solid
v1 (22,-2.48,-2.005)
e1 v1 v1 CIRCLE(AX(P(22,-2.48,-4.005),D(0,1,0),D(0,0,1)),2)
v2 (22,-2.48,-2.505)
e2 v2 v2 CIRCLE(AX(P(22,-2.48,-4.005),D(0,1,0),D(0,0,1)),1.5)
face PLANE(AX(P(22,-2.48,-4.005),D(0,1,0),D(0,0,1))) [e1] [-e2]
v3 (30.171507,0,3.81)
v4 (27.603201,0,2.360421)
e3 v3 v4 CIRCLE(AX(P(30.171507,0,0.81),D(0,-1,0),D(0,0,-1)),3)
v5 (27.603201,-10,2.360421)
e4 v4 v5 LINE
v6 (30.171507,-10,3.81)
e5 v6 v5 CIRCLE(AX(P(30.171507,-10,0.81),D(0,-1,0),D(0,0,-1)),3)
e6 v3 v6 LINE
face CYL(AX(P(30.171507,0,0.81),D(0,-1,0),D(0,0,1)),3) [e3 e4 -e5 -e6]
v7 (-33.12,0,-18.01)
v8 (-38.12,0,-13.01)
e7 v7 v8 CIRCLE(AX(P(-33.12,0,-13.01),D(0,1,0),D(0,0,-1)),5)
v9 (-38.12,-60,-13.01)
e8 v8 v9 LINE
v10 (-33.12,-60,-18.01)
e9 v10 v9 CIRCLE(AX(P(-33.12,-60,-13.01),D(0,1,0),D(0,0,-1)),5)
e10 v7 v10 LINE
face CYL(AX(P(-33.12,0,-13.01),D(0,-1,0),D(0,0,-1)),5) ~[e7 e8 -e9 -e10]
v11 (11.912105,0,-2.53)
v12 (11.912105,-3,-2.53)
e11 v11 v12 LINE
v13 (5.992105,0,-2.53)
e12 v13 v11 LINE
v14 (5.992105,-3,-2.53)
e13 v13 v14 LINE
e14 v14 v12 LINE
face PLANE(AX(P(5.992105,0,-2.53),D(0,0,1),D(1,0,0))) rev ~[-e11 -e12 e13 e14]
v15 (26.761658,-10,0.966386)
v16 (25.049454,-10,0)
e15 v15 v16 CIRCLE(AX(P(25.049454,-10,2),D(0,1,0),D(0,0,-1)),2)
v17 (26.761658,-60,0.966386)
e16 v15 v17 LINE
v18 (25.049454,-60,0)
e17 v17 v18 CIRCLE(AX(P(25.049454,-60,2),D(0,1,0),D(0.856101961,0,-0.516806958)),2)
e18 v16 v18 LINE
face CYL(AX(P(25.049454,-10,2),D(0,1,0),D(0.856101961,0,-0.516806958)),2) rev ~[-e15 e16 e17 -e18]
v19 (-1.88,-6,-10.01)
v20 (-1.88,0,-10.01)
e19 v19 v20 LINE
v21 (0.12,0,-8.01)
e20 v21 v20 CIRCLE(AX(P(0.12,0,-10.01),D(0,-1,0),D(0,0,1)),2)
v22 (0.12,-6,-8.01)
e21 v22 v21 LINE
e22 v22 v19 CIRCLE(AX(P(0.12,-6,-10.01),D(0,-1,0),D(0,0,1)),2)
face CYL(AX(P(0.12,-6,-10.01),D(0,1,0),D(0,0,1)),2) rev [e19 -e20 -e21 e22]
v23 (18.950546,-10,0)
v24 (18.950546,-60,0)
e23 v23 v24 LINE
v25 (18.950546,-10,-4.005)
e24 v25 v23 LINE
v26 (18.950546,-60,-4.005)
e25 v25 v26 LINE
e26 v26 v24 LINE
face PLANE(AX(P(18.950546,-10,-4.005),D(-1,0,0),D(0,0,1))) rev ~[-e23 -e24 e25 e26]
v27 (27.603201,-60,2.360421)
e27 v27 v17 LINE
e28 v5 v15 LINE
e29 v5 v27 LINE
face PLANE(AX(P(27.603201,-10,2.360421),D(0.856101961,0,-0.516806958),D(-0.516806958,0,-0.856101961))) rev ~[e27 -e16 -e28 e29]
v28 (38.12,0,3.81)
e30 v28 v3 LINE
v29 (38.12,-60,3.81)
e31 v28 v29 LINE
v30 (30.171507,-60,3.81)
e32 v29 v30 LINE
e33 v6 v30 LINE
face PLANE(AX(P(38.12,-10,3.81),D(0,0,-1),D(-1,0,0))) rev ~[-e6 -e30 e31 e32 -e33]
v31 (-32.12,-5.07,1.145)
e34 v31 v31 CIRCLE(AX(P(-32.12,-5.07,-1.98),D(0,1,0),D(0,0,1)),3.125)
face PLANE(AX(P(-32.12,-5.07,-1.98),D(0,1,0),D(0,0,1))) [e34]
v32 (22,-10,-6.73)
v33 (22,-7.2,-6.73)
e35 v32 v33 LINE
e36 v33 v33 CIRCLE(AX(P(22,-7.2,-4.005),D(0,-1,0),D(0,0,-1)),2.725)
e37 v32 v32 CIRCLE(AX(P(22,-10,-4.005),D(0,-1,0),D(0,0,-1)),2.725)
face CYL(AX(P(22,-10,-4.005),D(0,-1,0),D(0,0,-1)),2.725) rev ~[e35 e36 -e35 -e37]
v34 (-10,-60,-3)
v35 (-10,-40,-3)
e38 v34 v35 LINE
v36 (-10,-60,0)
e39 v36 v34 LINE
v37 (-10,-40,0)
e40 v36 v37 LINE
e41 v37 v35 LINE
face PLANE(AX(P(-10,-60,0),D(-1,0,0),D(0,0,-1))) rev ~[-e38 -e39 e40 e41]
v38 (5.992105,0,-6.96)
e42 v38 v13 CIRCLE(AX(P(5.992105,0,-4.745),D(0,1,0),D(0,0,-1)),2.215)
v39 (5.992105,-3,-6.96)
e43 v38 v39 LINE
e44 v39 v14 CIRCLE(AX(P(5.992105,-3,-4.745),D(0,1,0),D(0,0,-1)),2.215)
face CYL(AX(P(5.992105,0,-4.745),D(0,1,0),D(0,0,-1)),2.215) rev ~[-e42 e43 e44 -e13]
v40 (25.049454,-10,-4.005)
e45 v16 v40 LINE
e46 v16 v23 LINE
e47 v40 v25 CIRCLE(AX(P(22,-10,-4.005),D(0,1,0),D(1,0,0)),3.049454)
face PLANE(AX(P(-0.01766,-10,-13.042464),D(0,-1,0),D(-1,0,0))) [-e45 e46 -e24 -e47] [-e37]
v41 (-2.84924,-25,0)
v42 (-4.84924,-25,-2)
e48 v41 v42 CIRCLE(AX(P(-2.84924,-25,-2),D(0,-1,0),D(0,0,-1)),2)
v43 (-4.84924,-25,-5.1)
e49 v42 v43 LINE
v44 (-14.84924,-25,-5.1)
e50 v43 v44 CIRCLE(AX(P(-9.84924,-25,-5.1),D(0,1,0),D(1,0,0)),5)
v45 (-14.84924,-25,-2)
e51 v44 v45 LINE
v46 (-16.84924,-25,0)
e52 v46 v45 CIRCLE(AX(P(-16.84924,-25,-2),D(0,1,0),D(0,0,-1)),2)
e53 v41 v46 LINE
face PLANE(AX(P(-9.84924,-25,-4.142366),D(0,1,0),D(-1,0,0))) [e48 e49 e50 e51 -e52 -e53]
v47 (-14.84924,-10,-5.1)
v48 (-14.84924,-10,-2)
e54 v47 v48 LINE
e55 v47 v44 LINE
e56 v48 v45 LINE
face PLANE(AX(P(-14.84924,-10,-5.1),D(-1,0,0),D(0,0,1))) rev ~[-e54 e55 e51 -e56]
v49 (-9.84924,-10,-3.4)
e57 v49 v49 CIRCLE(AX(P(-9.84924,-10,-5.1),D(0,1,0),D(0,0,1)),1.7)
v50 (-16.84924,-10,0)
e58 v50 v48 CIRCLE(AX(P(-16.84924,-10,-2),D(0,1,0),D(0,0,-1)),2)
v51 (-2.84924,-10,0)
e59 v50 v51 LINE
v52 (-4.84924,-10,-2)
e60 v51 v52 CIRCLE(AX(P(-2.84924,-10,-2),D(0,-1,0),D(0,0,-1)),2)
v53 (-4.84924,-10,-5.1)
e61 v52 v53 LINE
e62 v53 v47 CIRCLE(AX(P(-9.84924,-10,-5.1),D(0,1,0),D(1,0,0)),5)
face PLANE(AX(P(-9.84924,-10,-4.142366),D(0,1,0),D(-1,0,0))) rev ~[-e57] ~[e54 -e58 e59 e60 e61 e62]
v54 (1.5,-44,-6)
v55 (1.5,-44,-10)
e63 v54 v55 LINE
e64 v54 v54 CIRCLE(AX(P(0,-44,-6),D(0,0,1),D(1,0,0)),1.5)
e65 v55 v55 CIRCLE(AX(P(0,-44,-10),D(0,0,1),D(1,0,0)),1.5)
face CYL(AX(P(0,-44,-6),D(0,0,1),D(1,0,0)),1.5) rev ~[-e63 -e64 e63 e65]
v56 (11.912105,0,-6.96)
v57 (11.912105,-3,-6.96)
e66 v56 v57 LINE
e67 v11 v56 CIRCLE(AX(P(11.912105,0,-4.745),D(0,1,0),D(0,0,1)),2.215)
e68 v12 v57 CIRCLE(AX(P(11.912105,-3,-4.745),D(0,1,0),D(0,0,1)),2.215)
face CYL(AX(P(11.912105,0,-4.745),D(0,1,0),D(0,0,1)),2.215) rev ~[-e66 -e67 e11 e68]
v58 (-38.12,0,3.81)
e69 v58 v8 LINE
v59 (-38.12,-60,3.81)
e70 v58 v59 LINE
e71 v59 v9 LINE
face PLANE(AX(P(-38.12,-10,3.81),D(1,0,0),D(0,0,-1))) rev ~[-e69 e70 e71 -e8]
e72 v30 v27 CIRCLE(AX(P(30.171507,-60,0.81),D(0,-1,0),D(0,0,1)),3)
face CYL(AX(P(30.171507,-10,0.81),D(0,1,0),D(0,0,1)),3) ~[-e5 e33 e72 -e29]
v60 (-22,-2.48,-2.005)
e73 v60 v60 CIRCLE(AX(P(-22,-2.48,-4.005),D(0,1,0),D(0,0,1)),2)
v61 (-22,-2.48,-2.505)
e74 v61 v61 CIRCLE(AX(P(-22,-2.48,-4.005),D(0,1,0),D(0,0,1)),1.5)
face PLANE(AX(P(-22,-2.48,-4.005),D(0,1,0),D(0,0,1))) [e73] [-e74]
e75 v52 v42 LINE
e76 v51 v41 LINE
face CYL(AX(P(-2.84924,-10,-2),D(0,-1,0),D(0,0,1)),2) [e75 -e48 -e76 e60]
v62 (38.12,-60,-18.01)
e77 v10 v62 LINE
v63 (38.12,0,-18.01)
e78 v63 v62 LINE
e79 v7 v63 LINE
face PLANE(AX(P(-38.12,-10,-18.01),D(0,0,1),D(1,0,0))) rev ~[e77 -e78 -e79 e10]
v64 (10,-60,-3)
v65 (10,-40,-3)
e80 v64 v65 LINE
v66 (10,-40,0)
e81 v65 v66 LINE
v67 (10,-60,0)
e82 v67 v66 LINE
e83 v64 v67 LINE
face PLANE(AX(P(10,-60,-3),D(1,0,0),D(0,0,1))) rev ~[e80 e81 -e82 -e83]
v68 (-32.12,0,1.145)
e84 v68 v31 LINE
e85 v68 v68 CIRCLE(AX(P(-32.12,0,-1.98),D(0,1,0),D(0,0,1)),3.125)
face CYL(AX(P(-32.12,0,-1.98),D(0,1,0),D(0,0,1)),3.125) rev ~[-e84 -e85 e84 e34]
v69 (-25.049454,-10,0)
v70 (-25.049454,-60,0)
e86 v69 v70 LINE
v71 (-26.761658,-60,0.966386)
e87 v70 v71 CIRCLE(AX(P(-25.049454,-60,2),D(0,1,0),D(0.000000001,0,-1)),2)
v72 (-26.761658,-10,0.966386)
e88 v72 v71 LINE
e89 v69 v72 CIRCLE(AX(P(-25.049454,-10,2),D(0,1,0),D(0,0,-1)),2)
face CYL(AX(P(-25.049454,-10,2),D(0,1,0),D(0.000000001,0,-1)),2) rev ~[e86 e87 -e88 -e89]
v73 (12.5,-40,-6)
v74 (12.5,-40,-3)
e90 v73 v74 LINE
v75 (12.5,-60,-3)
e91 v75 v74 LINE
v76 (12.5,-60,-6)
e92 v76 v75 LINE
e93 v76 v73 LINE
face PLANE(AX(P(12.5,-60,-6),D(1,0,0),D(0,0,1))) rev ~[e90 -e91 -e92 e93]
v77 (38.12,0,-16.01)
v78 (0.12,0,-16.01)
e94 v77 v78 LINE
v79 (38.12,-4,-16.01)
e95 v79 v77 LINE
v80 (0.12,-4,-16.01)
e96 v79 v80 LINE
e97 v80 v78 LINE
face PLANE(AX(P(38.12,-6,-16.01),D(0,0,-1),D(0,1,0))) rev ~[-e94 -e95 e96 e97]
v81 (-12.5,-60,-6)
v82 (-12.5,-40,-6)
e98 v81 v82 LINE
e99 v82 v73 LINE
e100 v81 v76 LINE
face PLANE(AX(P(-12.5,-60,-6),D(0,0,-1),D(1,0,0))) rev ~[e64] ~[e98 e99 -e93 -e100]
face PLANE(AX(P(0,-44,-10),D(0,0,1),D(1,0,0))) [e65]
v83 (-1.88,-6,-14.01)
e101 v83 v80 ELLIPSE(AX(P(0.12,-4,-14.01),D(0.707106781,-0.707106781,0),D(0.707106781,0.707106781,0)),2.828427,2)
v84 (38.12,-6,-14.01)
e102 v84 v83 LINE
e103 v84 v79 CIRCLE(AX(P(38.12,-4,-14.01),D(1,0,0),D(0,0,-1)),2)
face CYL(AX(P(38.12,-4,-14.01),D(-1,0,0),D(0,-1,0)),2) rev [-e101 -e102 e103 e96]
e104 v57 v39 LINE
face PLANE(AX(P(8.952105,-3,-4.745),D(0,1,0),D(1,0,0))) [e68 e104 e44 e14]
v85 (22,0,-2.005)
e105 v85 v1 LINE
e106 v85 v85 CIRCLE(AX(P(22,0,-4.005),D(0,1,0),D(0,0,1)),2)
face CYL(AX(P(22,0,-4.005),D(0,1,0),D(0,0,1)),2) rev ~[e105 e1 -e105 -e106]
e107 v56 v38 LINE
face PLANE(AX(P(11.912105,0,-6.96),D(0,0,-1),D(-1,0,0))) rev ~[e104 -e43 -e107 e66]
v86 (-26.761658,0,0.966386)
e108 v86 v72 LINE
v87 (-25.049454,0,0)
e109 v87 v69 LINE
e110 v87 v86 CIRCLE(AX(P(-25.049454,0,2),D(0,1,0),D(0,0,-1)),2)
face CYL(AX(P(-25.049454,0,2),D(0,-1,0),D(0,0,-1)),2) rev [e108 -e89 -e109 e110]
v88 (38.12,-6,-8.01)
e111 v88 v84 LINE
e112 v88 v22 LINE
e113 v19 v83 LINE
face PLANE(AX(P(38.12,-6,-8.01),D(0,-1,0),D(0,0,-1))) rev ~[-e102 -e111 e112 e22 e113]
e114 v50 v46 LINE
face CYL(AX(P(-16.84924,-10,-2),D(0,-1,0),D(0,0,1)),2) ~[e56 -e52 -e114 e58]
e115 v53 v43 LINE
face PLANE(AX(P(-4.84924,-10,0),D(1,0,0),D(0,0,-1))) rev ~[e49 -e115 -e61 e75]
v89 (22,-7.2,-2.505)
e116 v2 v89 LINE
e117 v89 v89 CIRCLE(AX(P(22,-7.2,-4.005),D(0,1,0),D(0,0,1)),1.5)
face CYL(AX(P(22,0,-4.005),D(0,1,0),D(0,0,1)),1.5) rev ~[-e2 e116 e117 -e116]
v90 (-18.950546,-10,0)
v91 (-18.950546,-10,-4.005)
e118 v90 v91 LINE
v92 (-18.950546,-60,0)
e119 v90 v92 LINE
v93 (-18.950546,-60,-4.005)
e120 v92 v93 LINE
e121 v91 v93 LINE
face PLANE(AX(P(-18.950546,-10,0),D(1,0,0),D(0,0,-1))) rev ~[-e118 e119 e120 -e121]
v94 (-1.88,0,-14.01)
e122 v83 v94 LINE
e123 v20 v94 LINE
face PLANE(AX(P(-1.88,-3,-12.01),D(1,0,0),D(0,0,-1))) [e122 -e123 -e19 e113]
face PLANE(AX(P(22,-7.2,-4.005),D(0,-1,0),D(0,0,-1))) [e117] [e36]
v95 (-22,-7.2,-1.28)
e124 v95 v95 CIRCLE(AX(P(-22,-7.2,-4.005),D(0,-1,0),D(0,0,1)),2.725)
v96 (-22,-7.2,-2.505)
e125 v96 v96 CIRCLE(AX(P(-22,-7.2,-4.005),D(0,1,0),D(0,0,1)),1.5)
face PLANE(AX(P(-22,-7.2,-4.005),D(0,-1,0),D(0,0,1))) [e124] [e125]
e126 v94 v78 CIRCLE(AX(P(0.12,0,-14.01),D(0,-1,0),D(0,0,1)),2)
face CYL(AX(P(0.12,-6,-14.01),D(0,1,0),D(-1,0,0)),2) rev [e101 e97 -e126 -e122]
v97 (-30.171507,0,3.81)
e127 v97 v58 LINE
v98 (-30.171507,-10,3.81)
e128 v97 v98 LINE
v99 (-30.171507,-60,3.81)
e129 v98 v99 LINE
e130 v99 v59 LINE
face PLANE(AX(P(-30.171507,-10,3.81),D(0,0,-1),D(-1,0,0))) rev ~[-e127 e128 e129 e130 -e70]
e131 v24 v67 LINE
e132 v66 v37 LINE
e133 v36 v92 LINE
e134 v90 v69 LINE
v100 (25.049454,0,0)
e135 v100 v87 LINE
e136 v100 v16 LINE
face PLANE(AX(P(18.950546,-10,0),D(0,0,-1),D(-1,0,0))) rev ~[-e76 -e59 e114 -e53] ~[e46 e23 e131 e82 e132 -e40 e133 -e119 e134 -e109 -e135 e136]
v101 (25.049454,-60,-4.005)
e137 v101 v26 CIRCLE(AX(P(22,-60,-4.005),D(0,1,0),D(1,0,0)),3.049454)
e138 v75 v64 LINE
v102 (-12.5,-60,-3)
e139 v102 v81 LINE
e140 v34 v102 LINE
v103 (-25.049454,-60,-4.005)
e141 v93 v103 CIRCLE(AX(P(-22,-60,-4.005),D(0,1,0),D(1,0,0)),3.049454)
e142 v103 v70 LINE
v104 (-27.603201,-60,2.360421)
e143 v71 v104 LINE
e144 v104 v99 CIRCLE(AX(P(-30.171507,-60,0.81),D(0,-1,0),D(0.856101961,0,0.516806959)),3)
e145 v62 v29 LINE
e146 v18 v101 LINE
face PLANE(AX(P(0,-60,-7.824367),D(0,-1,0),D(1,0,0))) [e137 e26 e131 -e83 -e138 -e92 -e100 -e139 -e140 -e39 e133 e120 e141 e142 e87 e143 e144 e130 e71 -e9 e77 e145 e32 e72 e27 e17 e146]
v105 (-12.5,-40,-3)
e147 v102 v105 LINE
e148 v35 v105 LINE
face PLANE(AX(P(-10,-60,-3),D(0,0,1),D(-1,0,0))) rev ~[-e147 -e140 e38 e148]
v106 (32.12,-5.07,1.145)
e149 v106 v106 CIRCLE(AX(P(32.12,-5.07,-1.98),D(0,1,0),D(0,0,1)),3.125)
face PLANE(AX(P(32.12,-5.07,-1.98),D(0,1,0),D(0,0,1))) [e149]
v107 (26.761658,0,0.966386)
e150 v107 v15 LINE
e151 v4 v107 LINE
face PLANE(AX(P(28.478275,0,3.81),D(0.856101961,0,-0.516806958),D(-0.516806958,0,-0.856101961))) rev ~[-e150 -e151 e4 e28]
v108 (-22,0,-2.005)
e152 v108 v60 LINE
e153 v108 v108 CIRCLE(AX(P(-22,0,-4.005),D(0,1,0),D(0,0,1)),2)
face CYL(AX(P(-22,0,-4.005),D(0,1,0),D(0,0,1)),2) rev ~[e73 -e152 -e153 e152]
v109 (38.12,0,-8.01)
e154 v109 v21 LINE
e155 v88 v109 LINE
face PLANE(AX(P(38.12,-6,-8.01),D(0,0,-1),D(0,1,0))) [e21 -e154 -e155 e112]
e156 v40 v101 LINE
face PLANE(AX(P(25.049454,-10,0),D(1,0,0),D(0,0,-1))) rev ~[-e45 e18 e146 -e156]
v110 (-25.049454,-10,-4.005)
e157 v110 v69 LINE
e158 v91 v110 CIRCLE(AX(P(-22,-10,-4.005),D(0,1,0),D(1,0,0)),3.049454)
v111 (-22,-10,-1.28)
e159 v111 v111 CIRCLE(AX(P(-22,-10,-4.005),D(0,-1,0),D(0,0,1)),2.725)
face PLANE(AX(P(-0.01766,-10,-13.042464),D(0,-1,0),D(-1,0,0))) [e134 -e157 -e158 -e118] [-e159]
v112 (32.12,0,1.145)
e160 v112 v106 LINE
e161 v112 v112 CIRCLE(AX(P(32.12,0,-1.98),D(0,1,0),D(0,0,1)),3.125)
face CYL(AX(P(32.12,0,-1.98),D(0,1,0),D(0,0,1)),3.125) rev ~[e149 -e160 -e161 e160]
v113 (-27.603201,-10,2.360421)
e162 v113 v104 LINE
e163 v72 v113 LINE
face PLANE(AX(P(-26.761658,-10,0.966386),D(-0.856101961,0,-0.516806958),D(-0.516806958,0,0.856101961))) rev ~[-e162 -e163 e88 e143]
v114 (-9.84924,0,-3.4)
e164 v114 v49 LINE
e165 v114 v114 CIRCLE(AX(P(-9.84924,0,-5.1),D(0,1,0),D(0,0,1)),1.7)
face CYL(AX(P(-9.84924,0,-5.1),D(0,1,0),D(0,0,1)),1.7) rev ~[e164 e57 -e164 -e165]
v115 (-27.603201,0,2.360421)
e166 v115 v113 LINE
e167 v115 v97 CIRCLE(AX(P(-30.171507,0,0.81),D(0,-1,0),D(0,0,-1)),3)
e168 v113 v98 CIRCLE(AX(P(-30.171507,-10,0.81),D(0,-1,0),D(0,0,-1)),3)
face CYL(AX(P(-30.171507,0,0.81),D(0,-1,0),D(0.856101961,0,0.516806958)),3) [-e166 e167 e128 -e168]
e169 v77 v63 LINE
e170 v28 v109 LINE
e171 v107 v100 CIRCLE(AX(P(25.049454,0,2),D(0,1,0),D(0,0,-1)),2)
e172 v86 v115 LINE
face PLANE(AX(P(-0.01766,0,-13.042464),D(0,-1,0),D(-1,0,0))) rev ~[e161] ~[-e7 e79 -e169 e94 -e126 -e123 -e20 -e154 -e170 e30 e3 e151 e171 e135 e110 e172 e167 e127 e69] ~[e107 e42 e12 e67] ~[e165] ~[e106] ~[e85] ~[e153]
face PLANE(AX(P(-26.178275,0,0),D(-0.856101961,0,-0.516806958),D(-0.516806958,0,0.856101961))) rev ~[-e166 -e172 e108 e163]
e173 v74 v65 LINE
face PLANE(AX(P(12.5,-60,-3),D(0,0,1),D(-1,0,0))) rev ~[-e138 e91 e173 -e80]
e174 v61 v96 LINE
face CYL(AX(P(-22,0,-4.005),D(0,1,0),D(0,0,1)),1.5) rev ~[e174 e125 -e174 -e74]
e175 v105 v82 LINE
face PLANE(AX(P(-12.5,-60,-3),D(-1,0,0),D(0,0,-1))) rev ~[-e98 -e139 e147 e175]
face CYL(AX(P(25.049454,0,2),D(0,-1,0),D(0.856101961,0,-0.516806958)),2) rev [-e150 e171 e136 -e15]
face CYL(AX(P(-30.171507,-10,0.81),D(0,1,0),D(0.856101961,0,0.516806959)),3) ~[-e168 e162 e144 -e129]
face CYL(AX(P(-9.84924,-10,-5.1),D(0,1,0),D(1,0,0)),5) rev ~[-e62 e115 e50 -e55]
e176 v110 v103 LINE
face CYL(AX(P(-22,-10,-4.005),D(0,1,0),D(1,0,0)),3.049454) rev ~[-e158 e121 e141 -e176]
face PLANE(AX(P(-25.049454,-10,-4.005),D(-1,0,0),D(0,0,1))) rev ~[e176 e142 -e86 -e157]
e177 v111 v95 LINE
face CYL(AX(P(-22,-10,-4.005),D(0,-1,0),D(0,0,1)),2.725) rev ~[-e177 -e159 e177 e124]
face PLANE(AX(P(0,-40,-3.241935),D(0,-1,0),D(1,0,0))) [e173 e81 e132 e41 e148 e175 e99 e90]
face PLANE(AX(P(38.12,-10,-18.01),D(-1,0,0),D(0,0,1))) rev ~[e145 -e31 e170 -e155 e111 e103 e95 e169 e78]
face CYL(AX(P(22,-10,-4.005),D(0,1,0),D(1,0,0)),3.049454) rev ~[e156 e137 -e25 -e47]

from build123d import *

# Parameters (mm, degrees)
SKETCH1_R           = 2
SKETCH1_R_2         = 3.125
SKETCH1_R_3         = 1.7
BOSS_EXTRUDE1_DEPTH = 10
FILLET2_R           = 3
FILLET1_R           = 2
SKETCH1_4_R         = 3.125
CUT_EXTRUDE3_DEPTH  = 5.07
SKETCH1_7_R         = 1.7
CUT_EXTRUDE6_DEPTH  = 10
CUT_EXTRUDE5_DEPTH  = 3
SKETCH1_5_R         = 2
CUT_EXTRUDE4_DEPTH  = 2.48
SKETCH4_R           = 1.5
CUT_EXTRUDE7_DEPTH  = 10
SKETCH5_R           = 2.725
CUT_EXTRUDE8_DEPTH  = 2.8
BOSS_EXTRUDE2_DEPTH = 10
BOSS_EXTRUDE3_DEPTH = 50
FILLET13_R          = 5
CUT_EXTRUDE14_DEPTH = 15
SKETCH10_W          = 8
SKETCH10_H          = 6
CUT_EXTRUDE12_DEPTH = 40
FILLET12_R          = 2
FILLET14_R          = 2
CUT_EXTRUDE17_DEPTH = 20
SKETCH19_R          = 1.5
CUT_EXTRUDE18_DEPTH = 4


with BuildPart() as part:
    # Sketch1 → Boss-Extrude1 (new body)
    with BuildSketch(Plane(origin=(0, 0, 0), x_dir=(1, 0, 0), z_dir=(0, 1, 0))):
        with BuildLine():
            ThreePointArc((-11.409245094, 8.977987014), (-9.849239736, 9.28), (-8.289234378, 8.977987014))
            ThreePointArc((-8.289234378, 8.977987014), (-5.835653376, 8.254222737), (-3.289234378, 8.01))
            Line((-3.289234378, 8.01), (38.12, 8.01))
            Line((38.12, 8.01), (38.12, -3.81))
            Line((38.12, -3.81), (28.478275237, -3.81))
            Line((28.478275237, -3.81), (26.178275237, 0))
            Line((26.178275237, 0), (-26.178275237, 0))
            Line((-26.178275237, 0), (-28.478275237, -3.81))
            Line((-28.478275237, -3.81), (-38.12, -3.81))
            Line((-38.12, -3.81), (-38.12, 8.01))
            Line((-38.12, 8.01), (-16.409245094, 8.01))
            ThreePointArc((-16.409245094, 8.01), (-13.862826096, 8.254222737), (-11.409245094, 8.977987014))
        make_face()
        with Locations((22, 4.005)):
            Circle(SKETCH1_R, mode=Mode.SUBTRACT)
        with Locations((-22, 4.005)):
            Circle(SKETCH1_R, mode=Mode.SUBTRACT)
        with Locations((-32.12, 1.98)):
            Circle(SKETCH1_R_2, mode=Mode.SUBTRACT)
        with Locations((32.12, 1.98)):
            Circle(SKETCH1_R_2, mode=Mode.SUBTRACT)
        with Locations((-9.849239736, 5.1)):
            Circle(SKETCH1_R_3, mode=Mode.SUBTRACT)
        with BuildLine():
            ThreePointArc((11.912105026, 2.53), (14.127105026, 4.745), (11.912105026, 6.96))
            Line((11.912105026, 6.96), (5.992105026, 6.96))
            ThreePointArc((5.992105026, 6.96), (3.777105026, 4.745), (5.992105026, 2.53))
            Line((5.992105026, 2.53), (11.912105026, 2.53))
        make_face(mode=Mode.SUBTRACT)
        with Locations((-22, 4.005)):
            Circle(SKETCH1_R)
        with Locations((-9.849239736, 5.1)):
            Circle(SKETCH1_R_3)
        with Locations((-32.12, 1.98)):
            Circle(SKETCH1_R_2)
        with BuildLine():
            Line((5.992105026, 2.53), (11.912105026, 2.53))
            ThreePointArc((11.912105026, 2.53), (14.127105026, 4.745), (11.912105026, 6.96))
            Line((11.912105026, 6.96), (5.992105026, 6.96))
            ThreePointArc((5.992105026, 6.96), (3.777105026, 4.745), (5.992105026, 2.53))
        make_face()
        with Locations((22, 4.005)):
            Circle(SKETCH1_R)
        with Locations((32.12, 1.98)):
            Circle(SKETCH1_R_2)
    extrude(amount=-BOSS_EXTRUDE1_DEPTH)

    # Fillet2
    fillet2_edges = [part.edges().sort_by_distance(p)[0] for p in [
        (28.478275237, -5, 3.81),
        (-28.478275237, -5, 3.81),
    ]]
    fillet(fillet2_edges, radius=FILLET2_R)

    # Fillet1
    fillet1_edges = [part.edges().sort_by_distance(p)[0] for p in [
        (26.178275237, -5, 0),
        (-26.178275237, -5, 0),
    ]]
    fillet(fillet1_edges, radius=FILLET1_R)

    # Sketch1_4 → Cut-Extrude3 (cut)
    with BuildSketch(Plane(origin=(0, 0, 0), x_dir=(1, 0, 0), z_dir=(0, 1, 0))):
        with Locations(Location((32.12, 1.98, 0), (0, 0, 270))):
            Circle(SKETCH1_4_R)
        with Locations(Location((-32.12, 1.98, 0), (0, 0, 270))):
            Circle(SKETCH1_4_R)
    extrude(amount=-CUT_EXTRUDE3_DEPTH, mode=Mode.SUBTRACT)

    # Sketch1_7 → Cut-Extrude6 (cut)
    with BuildSketch(Plane(origin=(0, 0, 0), x_dir=(1, 0, 0), z_dir=(0, 1, 0))):
        with Locations(Location((-9.849239736, 5.1, 0), (0, 0, 270))):
            Circle(SKETCH1_7_R)
    extrude(amount=-CUT_EXTRUDE6_DEPTH, mode=Mode.SUBTRACT)

    # Sketch1_6 → Cut-Extrude5 (cut)
    with BuildSketch(Plane(origin=(0, 0, 0), x_dir=(1, 0, 0), z_dir=(0, 1, 0))):
        with BuildLine():
            Line((5.992105026, 2.53), (11.912105026, 2.53))
            ThreePointArc((11.912105026, 2.53), (14.127105026, 4.745), (11.912105026, 6.96))
            Line((11.912105026, 6.96), (5.992105026, 6.96))
            ThreePointArc((5.992105026, 6.96), (3.777105026, 4.745), (5.992105026, 2.53))
        make_face()
    extrude(amount=-CUT_EXTRUDE5_DEPTH, mode=Mode.SUBTRACT)

    # Sketch1_5 → Cut-Extrude4 (cut)
    with BuildSketch(Plane(origin=(0, 0, 0), x_dir=(1, 0, 0), z_dir=(0, 1, 0))):
        with Locations(Location((-22, 4.005, 0), (0, 0, 270))):
            Circle(SKETCH1_5_R)
        with Locations(Location((22, 4.005, 0), (0, 0, 270))):
            Circle(SKETCH1_5_R)
    extrude(amount=-CUT_EXTRUDE4_DEPTH, mode=Mode.SUBTRACT)

    # Sketch4 → Cut-Extrude7 (cut)
    with BuildSketch(Plane(origin=(0, 0, 0), x_dir=(1, 0, 0), z_dir=(0, 1, 0))):
        with Locations(Location((-22, 4.005, 0), (0, 0, 270))):
            Circle(SKETCH4_R)
        with Locations(Location((22, 4.005, 0), (0, 0, 270))):
            Circle(SKETCH4_R)
    extrude(amount=-CUT_EXTRUDE7_DEPTH, mode=Mode.SUBTRACT)

    # Sketch5 → Cut-Extrude8 (cut)
    with BuildSketch(Plane.XZ.offset(10)):
        with Locations(Location((22, -4.005, 0), (0, 0, 270))):
            Circle(SKETCH5_R)
        with Locations(Location((-22, -4.005, 0), (0, 0, 90))):
            Circle(SKETCH5_R)
    extrude(amount=-CUT_EXTRUDE8_DEPTH, mode=Mode.SUBTRACT)

    # Sketch6 → Boss-Extrude2 (add)
    with BuildSketch(Plane(origin=(0, 0, 0), x_dir=(1, 0, 0), z_dir=(0, 1, 0))):
        with BuildLine():
            Line((-38.12, 8.01), (-38.12, 18.01))
            Line((-38.12, 18.01), (38.12, 18.01))
            Line((38.12, 18.01), (38.12, 8.01))
            Line((38.12, 8.01), (-3.289234378, 8.01))
            ThreePointArc((-3.289234378, 8.01), (-5.835653376, 8.254222737), (-8.289234378, 8.977987014))
            ThreePointArc((-8.289234378, 8.977987014), (-9.849239736, 9.28), (-11.409245094, 8.977987014))
            ThreePointArc((-11.409245094, 8.977987014), (-13.862826096, 8.254222737), (-16.409245094, 8.01))
            Line((-16.409245094, 8.01), (-38.12, 8.01))
        make_face()
    extrude(amount=-BOSS_EXTRUDE2_DEPTH)

    # Sketch8 → Boss-Extrude3 (add)
    with BuildSketch(Plane.XZ.offset(10)):
        with BuildLine():
            Line((18.950546011, 0), (-18.950546011, 0))
            Line((-18.950546011, 0), (-18.950546011, -4.005))
            ThreePointArc((-18.950546011, -4.005), (-22, -7.054453989), (-25.049453989, -4.005))
            Line((-25.049453989, -4.005), (-25.049453989, 0))
            ThreePointArc((-25.049453989, 0), (-26.032503369, 0.25827272), (-26.761657912, 0.966386084))
            Line((-26.761657912, 0.966386084), (-27.603201224, 2.360420875))
            ThreePointArc((-27.603201224, 2.360420875), (-28.696933037, 3.422590919), (-30.171507108, 3.81))
            Line((-30.171507108, 3.81), (-38.12, 3.81))
            Line((-38.12, 3.81), (-38.12, -18.01))
            Line((-38.12, -18.01), (38.12, -18.01))
            Line((38.12, -18.01), (38.12, 3.81))
            Line((38.12, 3.81), (30.171507108, 3.81))
            ThreePointArc((30.171507108, 3.81), (28.696933037, 3.422590919), (27.603201224, 2.360420875))
            Line((27.603201224, 2.360420875), (26.761657912, 0.966386084))
            ThreePointArc((26.761657912, 0.966386084), (26.032503369, 0.25827272), (25.049453989, 0))
            Line((25.049453989, 0), (25.049453989, -4.005))
            ThreePointArc((25.049453989, -4.005), (22, -7.054453989), (18.950546011, -4.005))
            Line((18.950546011, -4.005), (18.950546011, 0))
        make_face()
    extrude(amount=BOSS_EXTRUDE3_DEPTH)

    # Fillet13
    fillet13_edges = [part.edges().sort_by_distance(p)[0] for p in [
        (-38.12, -30, -18.01),
    ]]
    fillet(fillet13_edges, radius=FILLET13_R)

    # Sketch8_3 → Cut-Extrude14 (cut)
    with BuildSketch(Plane.XZ.offset(10)):
        with BuildLine():
            Line((-4.849239736, 0), (-4.849239736, -5.1))
            ThreePointArc((-4.849239736, -5.1), (-9.849239736, -10.1), (-14.849239736, -5.1))
            Line((-14.849239736, -5.1), (-14.849239736, 0))
            Line((-14.849239736, 0), (-4.849239736, 0))
        make_face()
    extrude(amount=CUT_EXTRUDE14_DEPTH, mode=Mode.SUBTRACT)

    # Sketch10 → Cut-Extrude12 (cut)
    with BuildSketch(Plane(origin=(38.12, 0, 0), x_dir=(0, 0, -1), z_dir=(1, 0, 0))):
        with Locations((12.01, -3)):
            Rectangle(SKETCH10_W, SKETCH10_H)
    extrude(amount=-CUT_EXTRUDE12_DEPTH, mode=Mode.SUBTRACT)

    # Fillet12
    fillet12_edges = [part.edges().sort_by_distance(p)[0] for p in [
        (-4.849239736, -17.5, 0),
        (-14.849239736, -17.5, 0),
    ]]
    fillet(fillet12_edges, radius=FILLET12_R)

    # Fillet14
    fillet14_edges = [part.edges().sort_by_distance(p)[0] for p in [
        (-1.88, -3, -16.01),
        (18.12, -6, -16.01),
        (-1.88, -3, -8.01),
    ]]
    fillet(fillet14_edges, radius=FILLET14_R)

    # Sketch18 → Cut-Extrude17 (cut)
    with BuildSketch(Plane.XZ.offset(60)):
        Polygon((-10, 0), (-10, -3), (-12.5, -3), (-12.5, -6), (12.5, -6), (12.5, -3), (10, -3), (10, 0), align=None)
    extrude(amount=-CUT_EXTRUDE17_DEPTH, mode=Mode.SUBTRACT)

    # Sketch19 → Cut-Extrude18 (cut)
    with BuildSketch(Plane.XY.offset(-6)):
        with Locations((0, -44)):
            Circle(SKETCH19_R)
    extrude(amount=-CUT_EXTRUDE18_DEPTH, mode=Mode.SUBTRACT)


solid = part.part
